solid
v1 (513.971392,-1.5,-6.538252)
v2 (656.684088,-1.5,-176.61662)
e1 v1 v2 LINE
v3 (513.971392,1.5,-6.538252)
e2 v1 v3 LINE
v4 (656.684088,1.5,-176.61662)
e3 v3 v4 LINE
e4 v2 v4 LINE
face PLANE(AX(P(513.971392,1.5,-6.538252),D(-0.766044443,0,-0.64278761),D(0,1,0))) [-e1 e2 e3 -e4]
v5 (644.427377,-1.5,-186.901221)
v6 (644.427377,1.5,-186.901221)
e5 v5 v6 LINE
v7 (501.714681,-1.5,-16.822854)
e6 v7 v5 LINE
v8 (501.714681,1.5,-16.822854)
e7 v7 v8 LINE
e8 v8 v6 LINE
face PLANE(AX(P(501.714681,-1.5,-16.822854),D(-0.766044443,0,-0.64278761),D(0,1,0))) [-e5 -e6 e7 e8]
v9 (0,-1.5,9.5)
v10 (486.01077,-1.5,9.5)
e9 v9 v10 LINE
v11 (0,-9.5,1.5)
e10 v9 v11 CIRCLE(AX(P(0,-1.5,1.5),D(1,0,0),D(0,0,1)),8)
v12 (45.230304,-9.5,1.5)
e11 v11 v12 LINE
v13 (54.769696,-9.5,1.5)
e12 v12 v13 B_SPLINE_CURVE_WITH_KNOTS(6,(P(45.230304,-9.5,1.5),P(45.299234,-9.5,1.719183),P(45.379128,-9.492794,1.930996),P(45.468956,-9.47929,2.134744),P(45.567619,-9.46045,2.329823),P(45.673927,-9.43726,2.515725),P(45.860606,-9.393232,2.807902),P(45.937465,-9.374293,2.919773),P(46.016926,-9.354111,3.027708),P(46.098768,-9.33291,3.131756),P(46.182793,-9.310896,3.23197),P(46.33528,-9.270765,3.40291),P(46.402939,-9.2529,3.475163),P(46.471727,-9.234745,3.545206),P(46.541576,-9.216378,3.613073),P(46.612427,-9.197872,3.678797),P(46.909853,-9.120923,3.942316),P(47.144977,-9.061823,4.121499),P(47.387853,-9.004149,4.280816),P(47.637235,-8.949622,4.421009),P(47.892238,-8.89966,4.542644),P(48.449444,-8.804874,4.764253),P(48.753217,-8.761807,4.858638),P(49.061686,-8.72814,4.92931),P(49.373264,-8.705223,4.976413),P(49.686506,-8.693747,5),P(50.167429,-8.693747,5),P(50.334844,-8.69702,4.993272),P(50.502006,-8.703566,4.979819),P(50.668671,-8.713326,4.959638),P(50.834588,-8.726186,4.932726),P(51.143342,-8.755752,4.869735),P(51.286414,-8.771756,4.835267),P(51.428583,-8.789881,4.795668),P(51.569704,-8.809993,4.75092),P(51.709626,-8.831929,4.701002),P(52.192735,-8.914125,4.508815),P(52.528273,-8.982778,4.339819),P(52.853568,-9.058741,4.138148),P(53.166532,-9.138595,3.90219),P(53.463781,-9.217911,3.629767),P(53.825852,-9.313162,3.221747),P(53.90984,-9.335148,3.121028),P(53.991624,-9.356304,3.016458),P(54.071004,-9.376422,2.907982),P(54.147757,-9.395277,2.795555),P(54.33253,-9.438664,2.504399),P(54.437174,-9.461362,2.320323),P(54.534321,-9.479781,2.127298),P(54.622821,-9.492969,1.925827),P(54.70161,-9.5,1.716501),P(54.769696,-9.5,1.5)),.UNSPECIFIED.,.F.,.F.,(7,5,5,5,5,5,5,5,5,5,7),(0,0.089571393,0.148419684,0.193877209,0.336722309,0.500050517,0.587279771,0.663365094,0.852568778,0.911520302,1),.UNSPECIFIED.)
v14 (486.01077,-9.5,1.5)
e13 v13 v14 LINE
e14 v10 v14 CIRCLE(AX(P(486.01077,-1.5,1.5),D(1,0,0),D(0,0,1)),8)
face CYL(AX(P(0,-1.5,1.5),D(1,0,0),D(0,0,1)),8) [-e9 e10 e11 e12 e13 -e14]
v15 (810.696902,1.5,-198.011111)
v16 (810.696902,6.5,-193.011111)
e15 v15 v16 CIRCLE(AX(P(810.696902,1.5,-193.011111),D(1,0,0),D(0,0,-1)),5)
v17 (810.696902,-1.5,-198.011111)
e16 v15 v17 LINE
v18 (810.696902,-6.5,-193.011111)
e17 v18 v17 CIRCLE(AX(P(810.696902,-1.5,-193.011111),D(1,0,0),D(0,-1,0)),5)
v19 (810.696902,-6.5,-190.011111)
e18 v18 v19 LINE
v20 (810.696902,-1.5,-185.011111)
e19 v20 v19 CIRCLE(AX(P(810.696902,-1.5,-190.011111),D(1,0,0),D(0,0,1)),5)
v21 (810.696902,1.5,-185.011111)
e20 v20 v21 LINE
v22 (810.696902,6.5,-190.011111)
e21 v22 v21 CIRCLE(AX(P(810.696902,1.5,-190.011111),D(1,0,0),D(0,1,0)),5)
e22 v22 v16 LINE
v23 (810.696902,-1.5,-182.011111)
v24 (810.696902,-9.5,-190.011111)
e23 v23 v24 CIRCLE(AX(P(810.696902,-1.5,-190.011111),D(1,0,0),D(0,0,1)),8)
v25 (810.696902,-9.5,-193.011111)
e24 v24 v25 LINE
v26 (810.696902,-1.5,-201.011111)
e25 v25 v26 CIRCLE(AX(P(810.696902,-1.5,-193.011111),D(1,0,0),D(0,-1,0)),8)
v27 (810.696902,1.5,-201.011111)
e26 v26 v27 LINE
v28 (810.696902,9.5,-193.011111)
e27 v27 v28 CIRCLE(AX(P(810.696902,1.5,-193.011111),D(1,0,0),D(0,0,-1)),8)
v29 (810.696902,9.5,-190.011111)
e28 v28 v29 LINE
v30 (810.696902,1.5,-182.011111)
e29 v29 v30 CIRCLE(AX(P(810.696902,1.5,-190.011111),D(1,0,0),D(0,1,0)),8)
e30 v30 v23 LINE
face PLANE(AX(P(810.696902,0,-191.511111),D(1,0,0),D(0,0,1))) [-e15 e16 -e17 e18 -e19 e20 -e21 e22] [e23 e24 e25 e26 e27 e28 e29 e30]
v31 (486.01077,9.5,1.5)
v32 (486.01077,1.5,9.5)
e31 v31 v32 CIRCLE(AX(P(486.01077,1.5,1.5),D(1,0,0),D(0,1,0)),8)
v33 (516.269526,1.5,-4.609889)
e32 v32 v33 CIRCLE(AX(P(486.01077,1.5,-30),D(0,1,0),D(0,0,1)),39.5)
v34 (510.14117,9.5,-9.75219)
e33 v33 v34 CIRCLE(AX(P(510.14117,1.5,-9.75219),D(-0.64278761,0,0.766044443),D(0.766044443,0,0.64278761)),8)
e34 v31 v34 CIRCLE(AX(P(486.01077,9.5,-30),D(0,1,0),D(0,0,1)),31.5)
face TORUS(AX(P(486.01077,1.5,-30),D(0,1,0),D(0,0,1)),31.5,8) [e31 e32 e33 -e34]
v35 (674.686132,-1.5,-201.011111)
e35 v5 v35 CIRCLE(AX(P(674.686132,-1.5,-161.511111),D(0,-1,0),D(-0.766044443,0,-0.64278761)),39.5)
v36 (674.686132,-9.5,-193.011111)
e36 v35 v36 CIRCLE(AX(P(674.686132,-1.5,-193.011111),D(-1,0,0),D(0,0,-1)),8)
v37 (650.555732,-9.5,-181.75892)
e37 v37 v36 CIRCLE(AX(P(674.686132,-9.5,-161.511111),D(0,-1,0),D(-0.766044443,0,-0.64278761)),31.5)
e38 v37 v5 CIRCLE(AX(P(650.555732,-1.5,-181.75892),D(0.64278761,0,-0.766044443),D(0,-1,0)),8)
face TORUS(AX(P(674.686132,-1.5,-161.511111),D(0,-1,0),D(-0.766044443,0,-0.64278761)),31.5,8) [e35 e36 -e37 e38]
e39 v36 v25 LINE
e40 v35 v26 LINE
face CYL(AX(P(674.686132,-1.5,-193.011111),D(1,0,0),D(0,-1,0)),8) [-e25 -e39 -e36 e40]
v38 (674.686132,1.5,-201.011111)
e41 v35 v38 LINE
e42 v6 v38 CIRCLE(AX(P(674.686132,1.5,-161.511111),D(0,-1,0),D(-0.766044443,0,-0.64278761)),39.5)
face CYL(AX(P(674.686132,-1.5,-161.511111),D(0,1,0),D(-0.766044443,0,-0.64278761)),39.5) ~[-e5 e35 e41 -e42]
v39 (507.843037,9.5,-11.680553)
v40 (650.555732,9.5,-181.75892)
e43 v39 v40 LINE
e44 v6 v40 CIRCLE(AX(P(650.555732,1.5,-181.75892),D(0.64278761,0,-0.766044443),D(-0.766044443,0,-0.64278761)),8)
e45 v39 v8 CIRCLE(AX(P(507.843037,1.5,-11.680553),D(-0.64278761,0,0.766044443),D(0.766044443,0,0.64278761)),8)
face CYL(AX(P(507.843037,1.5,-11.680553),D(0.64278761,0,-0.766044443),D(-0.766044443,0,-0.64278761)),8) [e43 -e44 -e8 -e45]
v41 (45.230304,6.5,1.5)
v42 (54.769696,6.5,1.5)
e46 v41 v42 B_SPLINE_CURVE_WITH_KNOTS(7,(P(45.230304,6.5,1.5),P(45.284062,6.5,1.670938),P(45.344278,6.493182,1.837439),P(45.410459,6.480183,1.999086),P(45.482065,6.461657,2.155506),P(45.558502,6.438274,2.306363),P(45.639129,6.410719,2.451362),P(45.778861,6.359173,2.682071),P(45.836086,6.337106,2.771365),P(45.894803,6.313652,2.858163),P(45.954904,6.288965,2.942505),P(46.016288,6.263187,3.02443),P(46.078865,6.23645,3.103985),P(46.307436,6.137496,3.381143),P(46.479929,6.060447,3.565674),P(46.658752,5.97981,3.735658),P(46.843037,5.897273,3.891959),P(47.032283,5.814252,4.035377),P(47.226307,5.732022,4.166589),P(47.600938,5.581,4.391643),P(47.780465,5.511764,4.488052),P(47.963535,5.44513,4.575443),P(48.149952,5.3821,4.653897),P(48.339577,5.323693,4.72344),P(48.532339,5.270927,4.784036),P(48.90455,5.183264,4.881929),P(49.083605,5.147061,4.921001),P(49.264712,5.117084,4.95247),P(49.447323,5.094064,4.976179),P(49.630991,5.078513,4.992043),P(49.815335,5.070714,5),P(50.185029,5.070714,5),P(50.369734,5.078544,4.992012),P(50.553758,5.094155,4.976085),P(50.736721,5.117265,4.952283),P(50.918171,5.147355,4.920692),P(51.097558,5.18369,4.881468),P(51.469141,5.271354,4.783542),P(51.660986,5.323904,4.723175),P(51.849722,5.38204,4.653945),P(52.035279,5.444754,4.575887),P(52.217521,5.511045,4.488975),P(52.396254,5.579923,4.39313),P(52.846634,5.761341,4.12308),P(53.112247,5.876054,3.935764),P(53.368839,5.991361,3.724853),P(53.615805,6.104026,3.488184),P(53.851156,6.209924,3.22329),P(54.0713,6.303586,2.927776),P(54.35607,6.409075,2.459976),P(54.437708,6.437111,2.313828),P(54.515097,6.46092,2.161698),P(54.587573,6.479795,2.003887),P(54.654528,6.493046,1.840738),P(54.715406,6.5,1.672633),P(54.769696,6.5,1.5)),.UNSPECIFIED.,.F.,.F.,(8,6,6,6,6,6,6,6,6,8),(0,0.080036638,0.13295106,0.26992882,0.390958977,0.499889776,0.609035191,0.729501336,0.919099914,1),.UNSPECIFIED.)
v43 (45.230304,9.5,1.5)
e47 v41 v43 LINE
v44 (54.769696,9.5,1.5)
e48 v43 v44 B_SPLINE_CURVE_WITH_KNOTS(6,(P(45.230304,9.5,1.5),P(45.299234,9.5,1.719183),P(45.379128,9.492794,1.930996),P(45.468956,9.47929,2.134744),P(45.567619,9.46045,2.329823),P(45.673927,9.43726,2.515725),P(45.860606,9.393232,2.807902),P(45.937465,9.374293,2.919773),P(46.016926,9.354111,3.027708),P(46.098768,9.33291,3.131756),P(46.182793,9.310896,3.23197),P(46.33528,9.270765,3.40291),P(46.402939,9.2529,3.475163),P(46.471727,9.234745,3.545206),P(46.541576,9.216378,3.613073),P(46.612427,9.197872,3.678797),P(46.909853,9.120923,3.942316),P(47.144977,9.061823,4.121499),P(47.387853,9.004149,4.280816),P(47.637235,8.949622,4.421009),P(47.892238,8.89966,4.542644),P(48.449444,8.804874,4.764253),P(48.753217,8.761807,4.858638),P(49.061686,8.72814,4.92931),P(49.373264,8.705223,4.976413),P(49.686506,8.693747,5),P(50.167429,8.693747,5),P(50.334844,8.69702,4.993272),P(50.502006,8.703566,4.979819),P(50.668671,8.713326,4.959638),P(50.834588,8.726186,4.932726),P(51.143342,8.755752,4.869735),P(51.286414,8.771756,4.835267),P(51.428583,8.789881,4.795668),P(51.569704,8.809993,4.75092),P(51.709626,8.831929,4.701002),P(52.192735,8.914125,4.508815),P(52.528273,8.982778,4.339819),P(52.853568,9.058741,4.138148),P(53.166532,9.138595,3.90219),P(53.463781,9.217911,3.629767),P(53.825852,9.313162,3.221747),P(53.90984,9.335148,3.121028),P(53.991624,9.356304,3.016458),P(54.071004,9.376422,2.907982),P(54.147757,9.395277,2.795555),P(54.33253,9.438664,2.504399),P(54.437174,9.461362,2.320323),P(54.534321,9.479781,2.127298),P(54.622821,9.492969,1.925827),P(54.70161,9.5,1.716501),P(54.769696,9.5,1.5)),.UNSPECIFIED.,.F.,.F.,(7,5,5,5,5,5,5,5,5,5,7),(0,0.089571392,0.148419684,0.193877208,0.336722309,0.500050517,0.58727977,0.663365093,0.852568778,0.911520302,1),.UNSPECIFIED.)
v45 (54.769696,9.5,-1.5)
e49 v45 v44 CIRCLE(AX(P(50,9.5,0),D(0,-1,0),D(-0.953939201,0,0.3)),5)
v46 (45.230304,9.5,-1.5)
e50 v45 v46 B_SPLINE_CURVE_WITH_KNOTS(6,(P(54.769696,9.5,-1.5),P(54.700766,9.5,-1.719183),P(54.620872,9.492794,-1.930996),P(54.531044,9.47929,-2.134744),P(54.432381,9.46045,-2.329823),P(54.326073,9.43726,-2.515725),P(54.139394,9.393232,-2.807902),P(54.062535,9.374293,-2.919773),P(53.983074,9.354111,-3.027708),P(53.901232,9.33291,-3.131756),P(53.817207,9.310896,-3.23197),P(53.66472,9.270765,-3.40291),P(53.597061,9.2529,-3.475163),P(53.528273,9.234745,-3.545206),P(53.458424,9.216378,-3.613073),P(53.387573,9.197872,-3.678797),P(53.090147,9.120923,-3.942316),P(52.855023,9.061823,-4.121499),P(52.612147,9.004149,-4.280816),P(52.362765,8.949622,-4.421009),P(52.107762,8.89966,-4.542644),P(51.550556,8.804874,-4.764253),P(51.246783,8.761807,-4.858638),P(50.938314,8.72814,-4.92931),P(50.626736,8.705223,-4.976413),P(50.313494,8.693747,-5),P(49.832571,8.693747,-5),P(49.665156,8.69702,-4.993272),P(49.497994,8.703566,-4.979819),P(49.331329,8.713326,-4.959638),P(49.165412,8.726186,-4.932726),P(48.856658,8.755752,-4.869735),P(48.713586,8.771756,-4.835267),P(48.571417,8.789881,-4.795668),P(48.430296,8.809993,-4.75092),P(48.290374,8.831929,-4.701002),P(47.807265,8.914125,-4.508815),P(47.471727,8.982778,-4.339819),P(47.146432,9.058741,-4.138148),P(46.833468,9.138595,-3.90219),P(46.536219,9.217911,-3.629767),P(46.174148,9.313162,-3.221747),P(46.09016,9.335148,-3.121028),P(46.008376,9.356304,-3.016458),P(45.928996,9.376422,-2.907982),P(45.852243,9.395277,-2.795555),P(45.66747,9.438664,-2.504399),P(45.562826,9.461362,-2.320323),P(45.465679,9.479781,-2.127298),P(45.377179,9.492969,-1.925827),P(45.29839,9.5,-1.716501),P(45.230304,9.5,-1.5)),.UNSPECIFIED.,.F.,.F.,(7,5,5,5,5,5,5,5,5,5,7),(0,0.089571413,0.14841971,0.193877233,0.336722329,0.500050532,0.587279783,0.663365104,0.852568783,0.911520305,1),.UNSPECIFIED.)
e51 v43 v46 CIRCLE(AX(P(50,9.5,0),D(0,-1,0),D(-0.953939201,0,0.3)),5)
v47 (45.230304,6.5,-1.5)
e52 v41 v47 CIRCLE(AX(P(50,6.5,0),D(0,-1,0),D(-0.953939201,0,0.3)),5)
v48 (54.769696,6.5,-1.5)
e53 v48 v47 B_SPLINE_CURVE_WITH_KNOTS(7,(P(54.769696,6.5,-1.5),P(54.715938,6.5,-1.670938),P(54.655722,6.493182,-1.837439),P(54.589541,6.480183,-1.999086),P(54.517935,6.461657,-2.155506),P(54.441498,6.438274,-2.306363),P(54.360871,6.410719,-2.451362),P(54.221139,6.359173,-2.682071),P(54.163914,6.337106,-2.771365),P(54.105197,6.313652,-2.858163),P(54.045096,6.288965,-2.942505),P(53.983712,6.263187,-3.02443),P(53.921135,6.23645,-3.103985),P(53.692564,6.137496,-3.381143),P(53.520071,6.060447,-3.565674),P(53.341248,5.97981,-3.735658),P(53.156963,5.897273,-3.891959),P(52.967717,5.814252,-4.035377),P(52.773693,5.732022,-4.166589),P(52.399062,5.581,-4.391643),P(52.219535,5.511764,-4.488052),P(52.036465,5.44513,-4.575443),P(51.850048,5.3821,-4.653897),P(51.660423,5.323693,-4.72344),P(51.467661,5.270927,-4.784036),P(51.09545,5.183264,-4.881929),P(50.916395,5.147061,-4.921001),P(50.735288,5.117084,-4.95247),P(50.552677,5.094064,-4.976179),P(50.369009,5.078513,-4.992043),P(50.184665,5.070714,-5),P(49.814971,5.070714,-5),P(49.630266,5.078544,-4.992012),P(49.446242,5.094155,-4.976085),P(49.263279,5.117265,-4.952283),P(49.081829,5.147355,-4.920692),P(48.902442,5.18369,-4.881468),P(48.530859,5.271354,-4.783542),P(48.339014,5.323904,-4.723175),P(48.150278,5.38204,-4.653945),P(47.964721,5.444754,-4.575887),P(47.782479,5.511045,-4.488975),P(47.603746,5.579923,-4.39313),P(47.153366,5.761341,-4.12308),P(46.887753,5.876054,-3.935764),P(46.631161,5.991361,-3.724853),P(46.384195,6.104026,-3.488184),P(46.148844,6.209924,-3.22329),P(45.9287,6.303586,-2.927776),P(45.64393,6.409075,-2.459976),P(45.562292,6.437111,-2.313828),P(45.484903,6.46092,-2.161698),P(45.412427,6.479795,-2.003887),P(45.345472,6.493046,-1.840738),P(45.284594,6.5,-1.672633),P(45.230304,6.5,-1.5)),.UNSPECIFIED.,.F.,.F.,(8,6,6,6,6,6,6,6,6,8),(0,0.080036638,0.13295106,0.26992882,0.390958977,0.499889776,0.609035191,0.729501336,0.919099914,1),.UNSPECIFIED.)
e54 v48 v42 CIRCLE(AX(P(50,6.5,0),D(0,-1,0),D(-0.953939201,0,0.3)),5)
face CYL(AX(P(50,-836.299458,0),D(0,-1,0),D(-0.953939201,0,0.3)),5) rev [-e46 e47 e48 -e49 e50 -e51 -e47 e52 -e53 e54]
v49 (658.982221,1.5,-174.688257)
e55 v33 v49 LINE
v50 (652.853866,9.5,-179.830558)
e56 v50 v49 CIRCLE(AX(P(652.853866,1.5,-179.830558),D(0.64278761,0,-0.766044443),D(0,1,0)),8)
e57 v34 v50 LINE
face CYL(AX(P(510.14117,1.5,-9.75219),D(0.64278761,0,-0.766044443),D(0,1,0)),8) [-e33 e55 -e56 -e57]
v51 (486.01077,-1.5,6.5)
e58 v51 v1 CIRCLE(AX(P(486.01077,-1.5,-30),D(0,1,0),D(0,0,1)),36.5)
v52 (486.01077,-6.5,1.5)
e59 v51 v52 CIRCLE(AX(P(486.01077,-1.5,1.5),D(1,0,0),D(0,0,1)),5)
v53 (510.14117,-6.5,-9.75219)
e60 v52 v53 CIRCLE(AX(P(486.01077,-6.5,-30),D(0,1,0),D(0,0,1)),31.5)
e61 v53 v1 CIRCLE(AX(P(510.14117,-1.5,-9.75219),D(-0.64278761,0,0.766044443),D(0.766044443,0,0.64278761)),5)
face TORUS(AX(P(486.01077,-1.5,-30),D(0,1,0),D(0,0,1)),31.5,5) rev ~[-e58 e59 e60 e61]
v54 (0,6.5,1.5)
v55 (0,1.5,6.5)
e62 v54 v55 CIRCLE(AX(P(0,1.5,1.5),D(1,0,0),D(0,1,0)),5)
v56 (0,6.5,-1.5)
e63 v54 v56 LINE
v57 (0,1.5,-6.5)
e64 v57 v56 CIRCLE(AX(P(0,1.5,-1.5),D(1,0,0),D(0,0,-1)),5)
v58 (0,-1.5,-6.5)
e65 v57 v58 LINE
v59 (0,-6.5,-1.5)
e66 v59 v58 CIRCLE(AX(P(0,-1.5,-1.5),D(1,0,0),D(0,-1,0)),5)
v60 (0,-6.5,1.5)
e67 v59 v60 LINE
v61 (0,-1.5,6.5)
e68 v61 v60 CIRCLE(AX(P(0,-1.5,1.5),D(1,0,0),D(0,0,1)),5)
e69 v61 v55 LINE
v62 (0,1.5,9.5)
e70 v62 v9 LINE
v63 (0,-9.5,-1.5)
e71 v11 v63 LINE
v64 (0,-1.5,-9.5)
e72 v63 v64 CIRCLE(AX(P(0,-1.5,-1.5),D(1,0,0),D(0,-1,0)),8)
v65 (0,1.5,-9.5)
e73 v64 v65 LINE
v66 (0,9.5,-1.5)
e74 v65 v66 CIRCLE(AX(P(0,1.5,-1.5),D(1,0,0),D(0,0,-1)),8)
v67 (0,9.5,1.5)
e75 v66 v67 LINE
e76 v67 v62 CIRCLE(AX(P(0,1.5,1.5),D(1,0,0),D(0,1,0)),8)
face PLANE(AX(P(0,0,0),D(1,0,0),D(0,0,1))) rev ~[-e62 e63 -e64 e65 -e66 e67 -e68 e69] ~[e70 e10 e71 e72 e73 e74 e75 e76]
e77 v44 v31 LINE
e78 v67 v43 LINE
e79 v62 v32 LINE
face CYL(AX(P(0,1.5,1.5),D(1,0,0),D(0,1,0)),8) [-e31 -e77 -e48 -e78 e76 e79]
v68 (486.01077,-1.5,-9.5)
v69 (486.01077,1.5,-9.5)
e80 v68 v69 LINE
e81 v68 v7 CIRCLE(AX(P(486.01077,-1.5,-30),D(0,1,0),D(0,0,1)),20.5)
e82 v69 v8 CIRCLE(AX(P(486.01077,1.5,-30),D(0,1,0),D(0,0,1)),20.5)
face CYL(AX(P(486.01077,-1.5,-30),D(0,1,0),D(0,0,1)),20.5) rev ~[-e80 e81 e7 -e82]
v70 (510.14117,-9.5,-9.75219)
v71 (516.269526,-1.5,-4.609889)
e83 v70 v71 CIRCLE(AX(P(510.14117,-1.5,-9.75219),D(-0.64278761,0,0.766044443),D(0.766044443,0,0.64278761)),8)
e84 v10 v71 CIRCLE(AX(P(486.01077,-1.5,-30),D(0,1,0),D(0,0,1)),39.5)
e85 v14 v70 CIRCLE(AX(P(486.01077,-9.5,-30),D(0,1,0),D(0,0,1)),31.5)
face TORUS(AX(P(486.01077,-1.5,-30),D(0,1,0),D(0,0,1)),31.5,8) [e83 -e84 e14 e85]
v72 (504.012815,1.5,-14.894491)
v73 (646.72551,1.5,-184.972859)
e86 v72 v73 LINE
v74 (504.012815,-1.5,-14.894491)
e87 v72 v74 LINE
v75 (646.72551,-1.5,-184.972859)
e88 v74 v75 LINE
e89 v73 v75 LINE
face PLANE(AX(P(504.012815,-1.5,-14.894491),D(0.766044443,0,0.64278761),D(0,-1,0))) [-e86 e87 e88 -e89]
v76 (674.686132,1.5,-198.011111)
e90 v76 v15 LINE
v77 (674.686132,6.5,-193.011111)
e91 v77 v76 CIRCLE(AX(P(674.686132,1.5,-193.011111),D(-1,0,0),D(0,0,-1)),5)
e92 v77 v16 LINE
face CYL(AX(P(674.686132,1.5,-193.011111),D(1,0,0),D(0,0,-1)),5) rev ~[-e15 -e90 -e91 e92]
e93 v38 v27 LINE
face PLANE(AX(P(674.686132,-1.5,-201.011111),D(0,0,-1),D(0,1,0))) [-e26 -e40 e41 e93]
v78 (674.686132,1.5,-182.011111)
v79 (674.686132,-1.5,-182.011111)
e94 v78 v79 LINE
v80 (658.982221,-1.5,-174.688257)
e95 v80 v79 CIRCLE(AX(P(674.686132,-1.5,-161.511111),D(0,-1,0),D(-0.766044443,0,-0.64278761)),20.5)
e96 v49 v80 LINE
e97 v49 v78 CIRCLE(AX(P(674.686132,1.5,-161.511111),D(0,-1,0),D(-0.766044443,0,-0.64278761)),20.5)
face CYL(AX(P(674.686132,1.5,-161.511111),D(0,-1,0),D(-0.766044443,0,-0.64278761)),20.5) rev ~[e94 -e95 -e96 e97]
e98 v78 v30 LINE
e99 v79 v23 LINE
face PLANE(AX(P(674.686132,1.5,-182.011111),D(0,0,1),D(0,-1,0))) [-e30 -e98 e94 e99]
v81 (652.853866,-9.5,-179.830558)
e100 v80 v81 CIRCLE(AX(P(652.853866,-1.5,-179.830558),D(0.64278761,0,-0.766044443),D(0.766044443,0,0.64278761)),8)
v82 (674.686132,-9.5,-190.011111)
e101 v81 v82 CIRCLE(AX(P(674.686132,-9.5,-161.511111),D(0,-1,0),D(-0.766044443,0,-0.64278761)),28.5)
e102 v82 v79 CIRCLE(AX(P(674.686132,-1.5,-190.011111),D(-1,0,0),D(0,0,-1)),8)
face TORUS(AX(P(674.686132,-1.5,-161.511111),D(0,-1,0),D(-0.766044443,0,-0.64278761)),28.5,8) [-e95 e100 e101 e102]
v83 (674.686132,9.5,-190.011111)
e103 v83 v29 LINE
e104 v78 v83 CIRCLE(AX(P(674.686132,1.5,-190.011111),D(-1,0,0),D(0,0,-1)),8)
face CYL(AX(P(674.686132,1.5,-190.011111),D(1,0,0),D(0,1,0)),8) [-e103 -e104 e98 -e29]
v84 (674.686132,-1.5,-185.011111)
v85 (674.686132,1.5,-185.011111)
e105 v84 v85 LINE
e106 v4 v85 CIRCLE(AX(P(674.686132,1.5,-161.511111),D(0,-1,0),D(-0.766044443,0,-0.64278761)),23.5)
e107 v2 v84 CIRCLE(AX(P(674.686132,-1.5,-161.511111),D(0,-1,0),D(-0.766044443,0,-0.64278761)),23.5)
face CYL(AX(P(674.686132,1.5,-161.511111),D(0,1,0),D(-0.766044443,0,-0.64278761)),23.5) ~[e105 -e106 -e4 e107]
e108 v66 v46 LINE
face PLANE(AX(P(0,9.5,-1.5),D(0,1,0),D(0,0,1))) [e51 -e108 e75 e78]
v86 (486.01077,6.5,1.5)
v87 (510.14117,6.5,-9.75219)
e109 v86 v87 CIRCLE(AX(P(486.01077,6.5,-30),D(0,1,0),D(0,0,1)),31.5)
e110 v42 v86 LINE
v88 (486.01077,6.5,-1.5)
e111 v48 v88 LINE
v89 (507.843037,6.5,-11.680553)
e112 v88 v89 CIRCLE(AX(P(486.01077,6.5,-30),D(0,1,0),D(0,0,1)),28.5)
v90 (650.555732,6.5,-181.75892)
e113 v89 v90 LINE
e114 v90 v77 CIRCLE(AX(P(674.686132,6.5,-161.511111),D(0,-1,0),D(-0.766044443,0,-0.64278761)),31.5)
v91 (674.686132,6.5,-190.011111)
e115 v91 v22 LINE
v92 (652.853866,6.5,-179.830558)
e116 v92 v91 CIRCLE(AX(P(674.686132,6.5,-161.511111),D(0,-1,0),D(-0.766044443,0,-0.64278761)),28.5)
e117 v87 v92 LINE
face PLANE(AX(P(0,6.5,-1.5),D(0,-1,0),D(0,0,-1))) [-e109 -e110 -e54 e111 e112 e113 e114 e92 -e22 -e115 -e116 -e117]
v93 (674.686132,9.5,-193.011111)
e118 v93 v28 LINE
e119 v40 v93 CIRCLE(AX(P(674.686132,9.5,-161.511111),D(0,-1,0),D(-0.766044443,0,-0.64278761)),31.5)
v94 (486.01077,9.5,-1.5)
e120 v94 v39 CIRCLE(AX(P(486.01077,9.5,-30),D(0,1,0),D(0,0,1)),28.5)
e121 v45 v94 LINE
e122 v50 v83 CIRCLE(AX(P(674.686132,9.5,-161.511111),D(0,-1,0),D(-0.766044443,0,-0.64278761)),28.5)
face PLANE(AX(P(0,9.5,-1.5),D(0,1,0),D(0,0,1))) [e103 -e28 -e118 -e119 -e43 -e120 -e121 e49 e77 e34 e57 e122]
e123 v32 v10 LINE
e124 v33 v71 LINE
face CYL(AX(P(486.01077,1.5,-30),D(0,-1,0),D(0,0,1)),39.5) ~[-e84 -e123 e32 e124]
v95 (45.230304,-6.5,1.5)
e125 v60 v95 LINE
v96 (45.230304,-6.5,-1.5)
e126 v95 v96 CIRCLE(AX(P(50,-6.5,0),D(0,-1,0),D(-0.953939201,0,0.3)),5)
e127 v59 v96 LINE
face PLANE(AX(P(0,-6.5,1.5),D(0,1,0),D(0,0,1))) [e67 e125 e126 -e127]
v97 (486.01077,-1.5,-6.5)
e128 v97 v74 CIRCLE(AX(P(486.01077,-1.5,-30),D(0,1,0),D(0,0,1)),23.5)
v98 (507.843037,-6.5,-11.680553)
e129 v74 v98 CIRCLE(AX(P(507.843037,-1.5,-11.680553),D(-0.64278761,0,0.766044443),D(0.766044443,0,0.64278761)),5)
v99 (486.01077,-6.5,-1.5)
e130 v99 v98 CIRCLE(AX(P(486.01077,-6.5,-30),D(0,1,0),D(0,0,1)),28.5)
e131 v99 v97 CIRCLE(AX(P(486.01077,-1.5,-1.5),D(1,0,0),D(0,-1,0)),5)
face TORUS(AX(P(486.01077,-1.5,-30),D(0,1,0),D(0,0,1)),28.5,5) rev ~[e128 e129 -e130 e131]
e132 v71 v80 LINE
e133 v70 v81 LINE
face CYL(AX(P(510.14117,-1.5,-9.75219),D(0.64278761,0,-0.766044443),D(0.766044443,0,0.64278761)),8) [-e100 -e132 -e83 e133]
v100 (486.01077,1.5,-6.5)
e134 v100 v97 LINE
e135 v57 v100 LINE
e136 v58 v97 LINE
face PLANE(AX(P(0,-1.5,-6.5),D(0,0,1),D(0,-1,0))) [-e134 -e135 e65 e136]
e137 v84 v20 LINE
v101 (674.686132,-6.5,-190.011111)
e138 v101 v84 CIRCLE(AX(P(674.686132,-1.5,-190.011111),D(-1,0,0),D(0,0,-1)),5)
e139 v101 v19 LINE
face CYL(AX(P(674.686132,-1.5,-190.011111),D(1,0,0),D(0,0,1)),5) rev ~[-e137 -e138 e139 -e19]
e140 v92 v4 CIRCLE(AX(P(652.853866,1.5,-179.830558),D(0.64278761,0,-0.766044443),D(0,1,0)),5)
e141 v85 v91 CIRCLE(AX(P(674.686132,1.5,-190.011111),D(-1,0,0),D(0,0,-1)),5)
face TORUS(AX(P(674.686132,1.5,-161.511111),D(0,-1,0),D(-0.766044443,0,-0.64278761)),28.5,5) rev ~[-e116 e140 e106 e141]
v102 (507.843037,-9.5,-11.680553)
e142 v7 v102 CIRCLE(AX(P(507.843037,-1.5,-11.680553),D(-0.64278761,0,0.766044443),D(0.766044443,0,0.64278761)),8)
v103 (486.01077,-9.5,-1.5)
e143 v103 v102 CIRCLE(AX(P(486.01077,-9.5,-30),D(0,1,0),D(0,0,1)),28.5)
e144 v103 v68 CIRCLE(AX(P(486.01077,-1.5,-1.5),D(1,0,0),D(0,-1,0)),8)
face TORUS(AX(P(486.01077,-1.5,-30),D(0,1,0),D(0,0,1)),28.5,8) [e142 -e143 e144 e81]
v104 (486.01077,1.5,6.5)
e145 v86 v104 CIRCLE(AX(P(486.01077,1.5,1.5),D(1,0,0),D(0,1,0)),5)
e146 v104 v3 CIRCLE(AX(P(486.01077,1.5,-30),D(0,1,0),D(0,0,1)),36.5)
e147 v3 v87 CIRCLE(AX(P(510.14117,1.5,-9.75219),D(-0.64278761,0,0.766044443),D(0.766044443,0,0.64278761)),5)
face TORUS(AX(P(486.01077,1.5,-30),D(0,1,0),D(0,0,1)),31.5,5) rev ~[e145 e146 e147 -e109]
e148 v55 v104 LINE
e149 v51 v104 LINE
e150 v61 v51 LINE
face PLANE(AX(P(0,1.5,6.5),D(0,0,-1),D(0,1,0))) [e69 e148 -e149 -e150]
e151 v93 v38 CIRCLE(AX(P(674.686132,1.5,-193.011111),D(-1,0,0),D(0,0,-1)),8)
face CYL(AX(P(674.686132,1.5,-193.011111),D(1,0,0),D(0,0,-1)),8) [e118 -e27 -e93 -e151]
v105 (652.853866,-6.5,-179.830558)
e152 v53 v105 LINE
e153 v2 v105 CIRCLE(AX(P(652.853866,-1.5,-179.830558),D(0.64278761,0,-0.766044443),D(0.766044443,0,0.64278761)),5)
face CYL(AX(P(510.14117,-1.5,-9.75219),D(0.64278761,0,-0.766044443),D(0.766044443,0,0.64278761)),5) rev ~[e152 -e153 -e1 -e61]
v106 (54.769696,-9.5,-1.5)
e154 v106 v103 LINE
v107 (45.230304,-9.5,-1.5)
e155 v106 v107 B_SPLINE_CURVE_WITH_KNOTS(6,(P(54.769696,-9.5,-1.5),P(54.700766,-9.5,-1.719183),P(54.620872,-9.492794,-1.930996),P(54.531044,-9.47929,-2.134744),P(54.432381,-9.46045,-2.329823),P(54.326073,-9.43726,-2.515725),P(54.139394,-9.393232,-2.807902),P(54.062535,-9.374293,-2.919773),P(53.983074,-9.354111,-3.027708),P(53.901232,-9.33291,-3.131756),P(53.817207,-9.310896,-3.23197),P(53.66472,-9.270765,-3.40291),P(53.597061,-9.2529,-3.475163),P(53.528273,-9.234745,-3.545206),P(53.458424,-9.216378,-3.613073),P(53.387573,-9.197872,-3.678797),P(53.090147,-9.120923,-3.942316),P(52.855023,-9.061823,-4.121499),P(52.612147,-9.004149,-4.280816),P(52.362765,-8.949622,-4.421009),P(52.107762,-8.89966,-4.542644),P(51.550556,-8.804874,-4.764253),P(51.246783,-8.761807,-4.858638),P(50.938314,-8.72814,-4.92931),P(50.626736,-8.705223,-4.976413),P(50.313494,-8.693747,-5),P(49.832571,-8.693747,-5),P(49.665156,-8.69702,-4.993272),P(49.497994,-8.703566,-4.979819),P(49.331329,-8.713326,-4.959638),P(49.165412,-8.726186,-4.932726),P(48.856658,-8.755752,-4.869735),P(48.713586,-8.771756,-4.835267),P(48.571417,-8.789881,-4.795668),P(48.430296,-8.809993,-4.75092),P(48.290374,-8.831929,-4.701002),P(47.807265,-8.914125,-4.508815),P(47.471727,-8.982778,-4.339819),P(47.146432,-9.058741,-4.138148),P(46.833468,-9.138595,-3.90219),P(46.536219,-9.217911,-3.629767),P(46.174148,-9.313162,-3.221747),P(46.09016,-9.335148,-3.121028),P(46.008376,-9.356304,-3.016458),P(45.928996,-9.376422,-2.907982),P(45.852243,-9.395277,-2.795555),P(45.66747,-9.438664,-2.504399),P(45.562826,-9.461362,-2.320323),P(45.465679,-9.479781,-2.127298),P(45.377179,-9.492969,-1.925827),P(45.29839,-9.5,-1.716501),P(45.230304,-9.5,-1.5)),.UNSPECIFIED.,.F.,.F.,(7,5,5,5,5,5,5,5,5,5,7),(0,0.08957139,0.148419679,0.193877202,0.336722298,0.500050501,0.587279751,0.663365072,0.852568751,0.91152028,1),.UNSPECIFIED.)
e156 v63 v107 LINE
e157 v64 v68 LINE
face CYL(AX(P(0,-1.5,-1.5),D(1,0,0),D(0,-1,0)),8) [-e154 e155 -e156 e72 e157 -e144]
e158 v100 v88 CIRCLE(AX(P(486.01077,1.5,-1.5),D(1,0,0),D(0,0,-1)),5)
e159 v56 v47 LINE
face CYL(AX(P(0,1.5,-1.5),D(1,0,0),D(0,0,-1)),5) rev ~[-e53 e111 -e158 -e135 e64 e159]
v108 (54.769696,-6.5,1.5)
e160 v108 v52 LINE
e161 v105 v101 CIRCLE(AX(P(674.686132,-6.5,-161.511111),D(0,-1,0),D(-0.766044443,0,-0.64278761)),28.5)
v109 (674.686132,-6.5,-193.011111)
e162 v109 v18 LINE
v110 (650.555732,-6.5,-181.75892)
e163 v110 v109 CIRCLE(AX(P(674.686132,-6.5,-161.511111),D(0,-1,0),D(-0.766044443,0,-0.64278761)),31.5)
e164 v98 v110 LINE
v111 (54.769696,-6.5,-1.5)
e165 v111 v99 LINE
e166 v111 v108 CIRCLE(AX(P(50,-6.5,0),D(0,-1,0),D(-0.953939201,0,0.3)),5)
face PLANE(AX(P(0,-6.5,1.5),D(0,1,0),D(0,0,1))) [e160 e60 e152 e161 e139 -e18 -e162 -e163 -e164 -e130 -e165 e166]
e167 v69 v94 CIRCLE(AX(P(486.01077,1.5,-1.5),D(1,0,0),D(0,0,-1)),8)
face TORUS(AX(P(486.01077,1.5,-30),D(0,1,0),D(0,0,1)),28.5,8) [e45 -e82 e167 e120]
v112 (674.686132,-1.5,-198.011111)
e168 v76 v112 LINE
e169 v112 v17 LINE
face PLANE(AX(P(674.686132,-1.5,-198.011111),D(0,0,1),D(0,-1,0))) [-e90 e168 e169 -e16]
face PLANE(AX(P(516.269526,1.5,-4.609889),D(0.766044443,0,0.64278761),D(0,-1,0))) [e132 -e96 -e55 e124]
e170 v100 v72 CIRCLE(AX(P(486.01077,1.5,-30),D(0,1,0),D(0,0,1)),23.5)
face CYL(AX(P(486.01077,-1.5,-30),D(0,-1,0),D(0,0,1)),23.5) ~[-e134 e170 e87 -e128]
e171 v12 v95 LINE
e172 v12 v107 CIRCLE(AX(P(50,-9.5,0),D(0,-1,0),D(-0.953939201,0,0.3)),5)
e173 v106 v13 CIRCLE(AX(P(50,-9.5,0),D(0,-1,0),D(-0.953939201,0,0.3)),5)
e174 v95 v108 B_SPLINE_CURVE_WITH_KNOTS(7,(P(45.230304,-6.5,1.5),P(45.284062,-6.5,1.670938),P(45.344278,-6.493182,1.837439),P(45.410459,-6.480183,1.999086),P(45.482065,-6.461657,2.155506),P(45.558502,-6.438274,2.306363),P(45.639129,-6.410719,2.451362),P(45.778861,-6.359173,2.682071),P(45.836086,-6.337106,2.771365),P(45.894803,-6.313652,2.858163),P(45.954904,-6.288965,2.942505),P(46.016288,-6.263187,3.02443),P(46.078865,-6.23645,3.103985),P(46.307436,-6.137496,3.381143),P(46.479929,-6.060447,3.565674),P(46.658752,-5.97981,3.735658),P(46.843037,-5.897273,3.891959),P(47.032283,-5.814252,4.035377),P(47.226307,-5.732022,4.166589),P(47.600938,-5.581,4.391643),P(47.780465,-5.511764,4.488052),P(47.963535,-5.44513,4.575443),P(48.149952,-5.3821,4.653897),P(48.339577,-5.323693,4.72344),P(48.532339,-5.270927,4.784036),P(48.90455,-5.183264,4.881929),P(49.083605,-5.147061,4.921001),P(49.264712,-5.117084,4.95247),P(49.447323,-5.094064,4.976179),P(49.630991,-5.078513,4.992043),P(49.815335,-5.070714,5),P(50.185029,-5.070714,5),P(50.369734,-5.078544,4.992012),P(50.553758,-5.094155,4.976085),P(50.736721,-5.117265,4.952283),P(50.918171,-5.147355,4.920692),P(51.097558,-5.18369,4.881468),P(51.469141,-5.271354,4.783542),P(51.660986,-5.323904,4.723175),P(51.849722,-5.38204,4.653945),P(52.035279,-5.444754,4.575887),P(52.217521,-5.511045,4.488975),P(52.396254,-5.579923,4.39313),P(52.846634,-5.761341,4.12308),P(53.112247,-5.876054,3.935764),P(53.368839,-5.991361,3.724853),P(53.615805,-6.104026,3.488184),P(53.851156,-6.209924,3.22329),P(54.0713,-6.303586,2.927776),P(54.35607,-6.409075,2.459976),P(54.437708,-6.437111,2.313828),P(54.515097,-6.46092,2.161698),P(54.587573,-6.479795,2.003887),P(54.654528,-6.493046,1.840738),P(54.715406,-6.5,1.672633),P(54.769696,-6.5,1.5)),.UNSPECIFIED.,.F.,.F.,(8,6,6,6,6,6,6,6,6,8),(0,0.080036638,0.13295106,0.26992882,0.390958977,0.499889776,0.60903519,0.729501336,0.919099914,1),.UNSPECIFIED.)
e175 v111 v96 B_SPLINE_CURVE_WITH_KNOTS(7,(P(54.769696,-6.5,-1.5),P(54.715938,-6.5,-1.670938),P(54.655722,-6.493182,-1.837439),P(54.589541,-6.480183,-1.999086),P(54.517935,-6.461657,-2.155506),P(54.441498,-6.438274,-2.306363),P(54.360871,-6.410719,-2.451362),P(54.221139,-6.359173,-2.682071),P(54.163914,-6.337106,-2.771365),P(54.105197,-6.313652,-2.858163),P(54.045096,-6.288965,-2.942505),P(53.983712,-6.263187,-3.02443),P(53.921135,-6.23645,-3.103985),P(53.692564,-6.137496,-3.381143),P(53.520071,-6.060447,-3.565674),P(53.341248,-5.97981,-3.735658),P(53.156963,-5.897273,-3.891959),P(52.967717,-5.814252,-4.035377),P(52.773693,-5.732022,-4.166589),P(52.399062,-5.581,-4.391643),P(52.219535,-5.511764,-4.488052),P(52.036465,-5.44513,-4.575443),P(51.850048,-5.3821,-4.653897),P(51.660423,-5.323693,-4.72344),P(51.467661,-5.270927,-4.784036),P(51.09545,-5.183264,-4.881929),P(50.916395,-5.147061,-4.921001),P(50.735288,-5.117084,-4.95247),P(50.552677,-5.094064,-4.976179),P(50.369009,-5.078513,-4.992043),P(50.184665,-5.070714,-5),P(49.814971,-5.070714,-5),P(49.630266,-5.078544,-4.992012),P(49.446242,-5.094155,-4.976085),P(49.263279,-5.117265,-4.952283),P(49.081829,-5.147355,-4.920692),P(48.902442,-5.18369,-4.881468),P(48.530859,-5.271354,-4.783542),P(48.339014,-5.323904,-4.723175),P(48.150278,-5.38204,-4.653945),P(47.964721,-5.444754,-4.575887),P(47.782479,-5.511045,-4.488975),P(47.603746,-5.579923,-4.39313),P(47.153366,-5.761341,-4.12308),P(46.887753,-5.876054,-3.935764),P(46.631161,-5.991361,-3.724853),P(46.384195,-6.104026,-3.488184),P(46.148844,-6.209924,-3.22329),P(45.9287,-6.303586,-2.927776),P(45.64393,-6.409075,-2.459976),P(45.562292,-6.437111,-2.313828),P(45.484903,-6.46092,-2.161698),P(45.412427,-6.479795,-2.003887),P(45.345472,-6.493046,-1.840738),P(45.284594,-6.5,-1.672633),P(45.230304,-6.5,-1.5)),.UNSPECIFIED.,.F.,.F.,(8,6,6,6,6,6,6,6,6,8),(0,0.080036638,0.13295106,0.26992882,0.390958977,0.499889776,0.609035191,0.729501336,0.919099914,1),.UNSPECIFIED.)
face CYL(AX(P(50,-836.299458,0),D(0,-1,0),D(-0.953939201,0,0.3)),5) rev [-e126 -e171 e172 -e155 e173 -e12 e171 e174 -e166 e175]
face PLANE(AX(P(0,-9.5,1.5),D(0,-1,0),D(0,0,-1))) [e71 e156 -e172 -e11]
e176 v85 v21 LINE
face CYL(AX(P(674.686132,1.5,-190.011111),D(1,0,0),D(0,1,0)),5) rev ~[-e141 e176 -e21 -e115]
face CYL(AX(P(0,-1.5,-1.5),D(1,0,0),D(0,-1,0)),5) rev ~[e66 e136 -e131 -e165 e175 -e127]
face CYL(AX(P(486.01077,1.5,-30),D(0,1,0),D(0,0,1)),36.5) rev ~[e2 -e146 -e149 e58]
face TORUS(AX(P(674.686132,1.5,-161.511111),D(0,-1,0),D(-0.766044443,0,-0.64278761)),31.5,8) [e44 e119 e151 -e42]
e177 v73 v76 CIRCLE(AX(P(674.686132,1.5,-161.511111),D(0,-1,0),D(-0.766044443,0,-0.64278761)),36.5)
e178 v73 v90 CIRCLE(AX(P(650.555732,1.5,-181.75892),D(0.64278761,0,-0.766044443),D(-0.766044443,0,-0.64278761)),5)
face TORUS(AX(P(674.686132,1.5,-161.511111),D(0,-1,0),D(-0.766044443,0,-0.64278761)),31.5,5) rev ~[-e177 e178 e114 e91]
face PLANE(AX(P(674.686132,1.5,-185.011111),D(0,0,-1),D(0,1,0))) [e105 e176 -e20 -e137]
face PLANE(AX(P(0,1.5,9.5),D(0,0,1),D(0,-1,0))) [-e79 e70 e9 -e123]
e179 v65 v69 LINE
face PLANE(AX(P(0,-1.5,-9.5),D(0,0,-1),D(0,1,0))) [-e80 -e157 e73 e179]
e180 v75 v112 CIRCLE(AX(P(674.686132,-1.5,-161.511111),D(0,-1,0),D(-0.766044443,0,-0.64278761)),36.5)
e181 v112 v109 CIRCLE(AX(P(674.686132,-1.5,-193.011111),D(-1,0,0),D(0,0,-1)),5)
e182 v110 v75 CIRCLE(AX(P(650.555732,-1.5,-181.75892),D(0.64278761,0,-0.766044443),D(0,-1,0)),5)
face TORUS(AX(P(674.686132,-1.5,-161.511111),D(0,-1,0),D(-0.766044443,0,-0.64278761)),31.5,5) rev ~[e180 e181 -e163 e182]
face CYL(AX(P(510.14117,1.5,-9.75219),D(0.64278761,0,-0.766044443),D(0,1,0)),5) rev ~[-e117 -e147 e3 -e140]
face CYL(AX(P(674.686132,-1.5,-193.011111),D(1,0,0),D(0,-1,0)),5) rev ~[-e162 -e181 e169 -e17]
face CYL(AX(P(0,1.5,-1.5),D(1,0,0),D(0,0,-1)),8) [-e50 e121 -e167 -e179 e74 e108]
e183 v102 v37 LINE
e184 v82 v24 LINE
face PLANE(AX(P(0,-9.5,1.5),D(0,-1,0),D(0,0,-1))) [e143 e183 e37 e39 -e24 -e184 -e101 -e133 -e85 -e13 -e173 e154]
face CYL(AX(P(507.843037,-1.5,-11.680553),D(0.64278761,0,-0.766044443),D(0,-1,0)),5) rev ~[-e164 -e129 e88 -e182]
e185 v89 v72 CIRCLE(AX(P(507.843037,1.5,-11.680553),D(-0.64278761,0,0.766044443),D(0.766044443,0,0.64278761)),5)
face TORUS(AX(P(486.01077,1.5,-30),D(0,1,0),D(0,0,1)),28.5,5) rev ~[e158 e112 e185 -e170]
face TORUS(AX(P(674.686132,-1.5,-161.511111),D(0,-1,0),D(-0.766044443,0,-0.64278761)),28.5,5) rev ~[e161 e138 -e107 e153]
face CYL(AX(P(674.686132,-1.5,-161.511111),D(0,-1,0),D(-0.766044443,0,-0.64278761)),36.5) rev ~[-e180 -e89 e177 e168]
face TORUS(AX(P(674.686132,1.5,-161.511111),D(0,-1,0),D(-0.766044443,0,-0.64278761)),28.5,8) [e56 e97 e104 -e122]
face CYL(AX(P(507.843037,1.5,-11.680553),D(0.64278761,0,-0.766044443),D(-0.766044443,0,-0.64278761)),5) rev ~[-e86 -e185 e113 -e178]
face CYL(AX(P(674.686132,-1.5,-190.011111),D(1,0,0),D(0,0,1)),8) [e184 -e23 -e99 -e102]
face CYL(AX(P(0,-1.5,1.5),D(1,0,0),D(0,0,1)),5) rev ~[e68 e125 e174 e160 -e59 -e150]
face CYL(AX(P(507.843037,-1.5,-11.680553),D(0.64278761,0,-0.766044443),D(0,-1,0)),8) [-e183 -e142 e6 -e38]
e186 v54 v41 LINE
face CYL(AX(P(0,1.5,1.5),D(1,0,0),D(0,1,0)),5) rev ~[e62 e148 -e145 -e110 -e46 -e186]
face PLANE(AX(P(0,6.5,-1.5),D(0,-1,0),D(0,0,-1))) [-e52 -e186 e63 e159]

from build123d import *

# Parameters (mm, degrees)
CUT_EXTRUDE3_DEPTH      = 836.299457856
CUT_EXTRUDE3_DEPTH_BACK = 836.299457856
SKETCH21_R              = 5


with BuildPart() as part:
    # Sweep-Thin3: sweep along a curve in space
    with BuildLine() as sweep_thin3_path:
        Line((674.686132166, 0, -191.51111078), (810.696902422, 0, -191.51111078))
        ThreePointArc((651.704798873, 0, -180.79473907), (662.007584314, 0, -188.700344391), (674.686132166, 0, -191.51111078))
        Line((508.992103549, 0, -10.716371709), (651.704798873, 0, -180.79473907))
        ThreePointArc((486.010770255, 0, 0), (498.689318108, 0, -2.810766389), (508.992103549, 0, -10.716371709))
        Line((0, 0, 0), (486.010770255, 0, 0))
    # Sketch2 → Sweep-Thin3 (sweep)
    with BuildSketch(Plane(origin=(0, 0, 0), x_dir=(0, 0, -1), z_dir=(1, 0, 0))):
        with BuildLine():
            Line((1.5, 9.5), (-1.5, 9.5))
            ThreePointArc((-1.5, 9.5), (-7.156854249, 7.156854249), (-9.5, 1.5))
            Line((-9.5, 1.5), (-9.5, -1.5))
            ThreePointArc((-9.5, -1.5), (-7.156854249, -7.156854249), (-1.5, -9.5))
            Line((-1.5, -9.5), (1.5, -9.5))
            ThreePointArc((1.5, -9.5), (7.156854249, -7.156854249), (9.5, -1.5))
            Line((9.5, -1.5), (9.5, 1.5))
            ThreePointArc((9.5, 1.5), (7.156854249, 7.156854249), (1.5, 9.5))
        make_face()
        with BuildLine():
            Line((1.5, 6.5), (-1.5, 6.5))
            ThreePointArc((-1.5, 6.5), (-5.035533906, 5.035533906), (-6.5, 1.5))
            Line((-6.5, 1.5), (-6.5, -1.5))
            ThreePointArc((-6.5, -1.5), (-5.035533906, -5.035533906), (-1.5, -6.5))
            Line((-1.5, -6.5), (1.5, -6.5))
            ThreePointArc((1.5, -6.5), (5.035533906, -5.035533906), (6.5, -1.5))
            Line((6.5, -1.5), (6.5, 1.5))
            ThreePointArc((6.5, 1.5), (5.035533906, 5.035533906), (1.5, 6.5))
        make_face(mode=Mode.SUBTRACT)
    sweep(path=sweep_thin3_path.line)

    # Sketch21 → Cut-Extrude3 (cut, two sides: drawn at the far end of the back side and taken through both)
    with BuildSketch(Plane(origin=(0, 0, 0), x_dir=(1, 0, 0), z_dir=(0, 1, 0)).offset(-CUT_EXTRUDE3_DEPTH_BACK)):
        with Locations(Location((50, 0, 0), (0, 0, 197.457603124))):
            Circle(SKETCH21_R)
    extrude(amount=CUT_EXTRUDE3_DEPTH + CUT_EXTRUDE3_DEPTH_BACK, mode=Mode.SUBTRACT)


solid = part.part
